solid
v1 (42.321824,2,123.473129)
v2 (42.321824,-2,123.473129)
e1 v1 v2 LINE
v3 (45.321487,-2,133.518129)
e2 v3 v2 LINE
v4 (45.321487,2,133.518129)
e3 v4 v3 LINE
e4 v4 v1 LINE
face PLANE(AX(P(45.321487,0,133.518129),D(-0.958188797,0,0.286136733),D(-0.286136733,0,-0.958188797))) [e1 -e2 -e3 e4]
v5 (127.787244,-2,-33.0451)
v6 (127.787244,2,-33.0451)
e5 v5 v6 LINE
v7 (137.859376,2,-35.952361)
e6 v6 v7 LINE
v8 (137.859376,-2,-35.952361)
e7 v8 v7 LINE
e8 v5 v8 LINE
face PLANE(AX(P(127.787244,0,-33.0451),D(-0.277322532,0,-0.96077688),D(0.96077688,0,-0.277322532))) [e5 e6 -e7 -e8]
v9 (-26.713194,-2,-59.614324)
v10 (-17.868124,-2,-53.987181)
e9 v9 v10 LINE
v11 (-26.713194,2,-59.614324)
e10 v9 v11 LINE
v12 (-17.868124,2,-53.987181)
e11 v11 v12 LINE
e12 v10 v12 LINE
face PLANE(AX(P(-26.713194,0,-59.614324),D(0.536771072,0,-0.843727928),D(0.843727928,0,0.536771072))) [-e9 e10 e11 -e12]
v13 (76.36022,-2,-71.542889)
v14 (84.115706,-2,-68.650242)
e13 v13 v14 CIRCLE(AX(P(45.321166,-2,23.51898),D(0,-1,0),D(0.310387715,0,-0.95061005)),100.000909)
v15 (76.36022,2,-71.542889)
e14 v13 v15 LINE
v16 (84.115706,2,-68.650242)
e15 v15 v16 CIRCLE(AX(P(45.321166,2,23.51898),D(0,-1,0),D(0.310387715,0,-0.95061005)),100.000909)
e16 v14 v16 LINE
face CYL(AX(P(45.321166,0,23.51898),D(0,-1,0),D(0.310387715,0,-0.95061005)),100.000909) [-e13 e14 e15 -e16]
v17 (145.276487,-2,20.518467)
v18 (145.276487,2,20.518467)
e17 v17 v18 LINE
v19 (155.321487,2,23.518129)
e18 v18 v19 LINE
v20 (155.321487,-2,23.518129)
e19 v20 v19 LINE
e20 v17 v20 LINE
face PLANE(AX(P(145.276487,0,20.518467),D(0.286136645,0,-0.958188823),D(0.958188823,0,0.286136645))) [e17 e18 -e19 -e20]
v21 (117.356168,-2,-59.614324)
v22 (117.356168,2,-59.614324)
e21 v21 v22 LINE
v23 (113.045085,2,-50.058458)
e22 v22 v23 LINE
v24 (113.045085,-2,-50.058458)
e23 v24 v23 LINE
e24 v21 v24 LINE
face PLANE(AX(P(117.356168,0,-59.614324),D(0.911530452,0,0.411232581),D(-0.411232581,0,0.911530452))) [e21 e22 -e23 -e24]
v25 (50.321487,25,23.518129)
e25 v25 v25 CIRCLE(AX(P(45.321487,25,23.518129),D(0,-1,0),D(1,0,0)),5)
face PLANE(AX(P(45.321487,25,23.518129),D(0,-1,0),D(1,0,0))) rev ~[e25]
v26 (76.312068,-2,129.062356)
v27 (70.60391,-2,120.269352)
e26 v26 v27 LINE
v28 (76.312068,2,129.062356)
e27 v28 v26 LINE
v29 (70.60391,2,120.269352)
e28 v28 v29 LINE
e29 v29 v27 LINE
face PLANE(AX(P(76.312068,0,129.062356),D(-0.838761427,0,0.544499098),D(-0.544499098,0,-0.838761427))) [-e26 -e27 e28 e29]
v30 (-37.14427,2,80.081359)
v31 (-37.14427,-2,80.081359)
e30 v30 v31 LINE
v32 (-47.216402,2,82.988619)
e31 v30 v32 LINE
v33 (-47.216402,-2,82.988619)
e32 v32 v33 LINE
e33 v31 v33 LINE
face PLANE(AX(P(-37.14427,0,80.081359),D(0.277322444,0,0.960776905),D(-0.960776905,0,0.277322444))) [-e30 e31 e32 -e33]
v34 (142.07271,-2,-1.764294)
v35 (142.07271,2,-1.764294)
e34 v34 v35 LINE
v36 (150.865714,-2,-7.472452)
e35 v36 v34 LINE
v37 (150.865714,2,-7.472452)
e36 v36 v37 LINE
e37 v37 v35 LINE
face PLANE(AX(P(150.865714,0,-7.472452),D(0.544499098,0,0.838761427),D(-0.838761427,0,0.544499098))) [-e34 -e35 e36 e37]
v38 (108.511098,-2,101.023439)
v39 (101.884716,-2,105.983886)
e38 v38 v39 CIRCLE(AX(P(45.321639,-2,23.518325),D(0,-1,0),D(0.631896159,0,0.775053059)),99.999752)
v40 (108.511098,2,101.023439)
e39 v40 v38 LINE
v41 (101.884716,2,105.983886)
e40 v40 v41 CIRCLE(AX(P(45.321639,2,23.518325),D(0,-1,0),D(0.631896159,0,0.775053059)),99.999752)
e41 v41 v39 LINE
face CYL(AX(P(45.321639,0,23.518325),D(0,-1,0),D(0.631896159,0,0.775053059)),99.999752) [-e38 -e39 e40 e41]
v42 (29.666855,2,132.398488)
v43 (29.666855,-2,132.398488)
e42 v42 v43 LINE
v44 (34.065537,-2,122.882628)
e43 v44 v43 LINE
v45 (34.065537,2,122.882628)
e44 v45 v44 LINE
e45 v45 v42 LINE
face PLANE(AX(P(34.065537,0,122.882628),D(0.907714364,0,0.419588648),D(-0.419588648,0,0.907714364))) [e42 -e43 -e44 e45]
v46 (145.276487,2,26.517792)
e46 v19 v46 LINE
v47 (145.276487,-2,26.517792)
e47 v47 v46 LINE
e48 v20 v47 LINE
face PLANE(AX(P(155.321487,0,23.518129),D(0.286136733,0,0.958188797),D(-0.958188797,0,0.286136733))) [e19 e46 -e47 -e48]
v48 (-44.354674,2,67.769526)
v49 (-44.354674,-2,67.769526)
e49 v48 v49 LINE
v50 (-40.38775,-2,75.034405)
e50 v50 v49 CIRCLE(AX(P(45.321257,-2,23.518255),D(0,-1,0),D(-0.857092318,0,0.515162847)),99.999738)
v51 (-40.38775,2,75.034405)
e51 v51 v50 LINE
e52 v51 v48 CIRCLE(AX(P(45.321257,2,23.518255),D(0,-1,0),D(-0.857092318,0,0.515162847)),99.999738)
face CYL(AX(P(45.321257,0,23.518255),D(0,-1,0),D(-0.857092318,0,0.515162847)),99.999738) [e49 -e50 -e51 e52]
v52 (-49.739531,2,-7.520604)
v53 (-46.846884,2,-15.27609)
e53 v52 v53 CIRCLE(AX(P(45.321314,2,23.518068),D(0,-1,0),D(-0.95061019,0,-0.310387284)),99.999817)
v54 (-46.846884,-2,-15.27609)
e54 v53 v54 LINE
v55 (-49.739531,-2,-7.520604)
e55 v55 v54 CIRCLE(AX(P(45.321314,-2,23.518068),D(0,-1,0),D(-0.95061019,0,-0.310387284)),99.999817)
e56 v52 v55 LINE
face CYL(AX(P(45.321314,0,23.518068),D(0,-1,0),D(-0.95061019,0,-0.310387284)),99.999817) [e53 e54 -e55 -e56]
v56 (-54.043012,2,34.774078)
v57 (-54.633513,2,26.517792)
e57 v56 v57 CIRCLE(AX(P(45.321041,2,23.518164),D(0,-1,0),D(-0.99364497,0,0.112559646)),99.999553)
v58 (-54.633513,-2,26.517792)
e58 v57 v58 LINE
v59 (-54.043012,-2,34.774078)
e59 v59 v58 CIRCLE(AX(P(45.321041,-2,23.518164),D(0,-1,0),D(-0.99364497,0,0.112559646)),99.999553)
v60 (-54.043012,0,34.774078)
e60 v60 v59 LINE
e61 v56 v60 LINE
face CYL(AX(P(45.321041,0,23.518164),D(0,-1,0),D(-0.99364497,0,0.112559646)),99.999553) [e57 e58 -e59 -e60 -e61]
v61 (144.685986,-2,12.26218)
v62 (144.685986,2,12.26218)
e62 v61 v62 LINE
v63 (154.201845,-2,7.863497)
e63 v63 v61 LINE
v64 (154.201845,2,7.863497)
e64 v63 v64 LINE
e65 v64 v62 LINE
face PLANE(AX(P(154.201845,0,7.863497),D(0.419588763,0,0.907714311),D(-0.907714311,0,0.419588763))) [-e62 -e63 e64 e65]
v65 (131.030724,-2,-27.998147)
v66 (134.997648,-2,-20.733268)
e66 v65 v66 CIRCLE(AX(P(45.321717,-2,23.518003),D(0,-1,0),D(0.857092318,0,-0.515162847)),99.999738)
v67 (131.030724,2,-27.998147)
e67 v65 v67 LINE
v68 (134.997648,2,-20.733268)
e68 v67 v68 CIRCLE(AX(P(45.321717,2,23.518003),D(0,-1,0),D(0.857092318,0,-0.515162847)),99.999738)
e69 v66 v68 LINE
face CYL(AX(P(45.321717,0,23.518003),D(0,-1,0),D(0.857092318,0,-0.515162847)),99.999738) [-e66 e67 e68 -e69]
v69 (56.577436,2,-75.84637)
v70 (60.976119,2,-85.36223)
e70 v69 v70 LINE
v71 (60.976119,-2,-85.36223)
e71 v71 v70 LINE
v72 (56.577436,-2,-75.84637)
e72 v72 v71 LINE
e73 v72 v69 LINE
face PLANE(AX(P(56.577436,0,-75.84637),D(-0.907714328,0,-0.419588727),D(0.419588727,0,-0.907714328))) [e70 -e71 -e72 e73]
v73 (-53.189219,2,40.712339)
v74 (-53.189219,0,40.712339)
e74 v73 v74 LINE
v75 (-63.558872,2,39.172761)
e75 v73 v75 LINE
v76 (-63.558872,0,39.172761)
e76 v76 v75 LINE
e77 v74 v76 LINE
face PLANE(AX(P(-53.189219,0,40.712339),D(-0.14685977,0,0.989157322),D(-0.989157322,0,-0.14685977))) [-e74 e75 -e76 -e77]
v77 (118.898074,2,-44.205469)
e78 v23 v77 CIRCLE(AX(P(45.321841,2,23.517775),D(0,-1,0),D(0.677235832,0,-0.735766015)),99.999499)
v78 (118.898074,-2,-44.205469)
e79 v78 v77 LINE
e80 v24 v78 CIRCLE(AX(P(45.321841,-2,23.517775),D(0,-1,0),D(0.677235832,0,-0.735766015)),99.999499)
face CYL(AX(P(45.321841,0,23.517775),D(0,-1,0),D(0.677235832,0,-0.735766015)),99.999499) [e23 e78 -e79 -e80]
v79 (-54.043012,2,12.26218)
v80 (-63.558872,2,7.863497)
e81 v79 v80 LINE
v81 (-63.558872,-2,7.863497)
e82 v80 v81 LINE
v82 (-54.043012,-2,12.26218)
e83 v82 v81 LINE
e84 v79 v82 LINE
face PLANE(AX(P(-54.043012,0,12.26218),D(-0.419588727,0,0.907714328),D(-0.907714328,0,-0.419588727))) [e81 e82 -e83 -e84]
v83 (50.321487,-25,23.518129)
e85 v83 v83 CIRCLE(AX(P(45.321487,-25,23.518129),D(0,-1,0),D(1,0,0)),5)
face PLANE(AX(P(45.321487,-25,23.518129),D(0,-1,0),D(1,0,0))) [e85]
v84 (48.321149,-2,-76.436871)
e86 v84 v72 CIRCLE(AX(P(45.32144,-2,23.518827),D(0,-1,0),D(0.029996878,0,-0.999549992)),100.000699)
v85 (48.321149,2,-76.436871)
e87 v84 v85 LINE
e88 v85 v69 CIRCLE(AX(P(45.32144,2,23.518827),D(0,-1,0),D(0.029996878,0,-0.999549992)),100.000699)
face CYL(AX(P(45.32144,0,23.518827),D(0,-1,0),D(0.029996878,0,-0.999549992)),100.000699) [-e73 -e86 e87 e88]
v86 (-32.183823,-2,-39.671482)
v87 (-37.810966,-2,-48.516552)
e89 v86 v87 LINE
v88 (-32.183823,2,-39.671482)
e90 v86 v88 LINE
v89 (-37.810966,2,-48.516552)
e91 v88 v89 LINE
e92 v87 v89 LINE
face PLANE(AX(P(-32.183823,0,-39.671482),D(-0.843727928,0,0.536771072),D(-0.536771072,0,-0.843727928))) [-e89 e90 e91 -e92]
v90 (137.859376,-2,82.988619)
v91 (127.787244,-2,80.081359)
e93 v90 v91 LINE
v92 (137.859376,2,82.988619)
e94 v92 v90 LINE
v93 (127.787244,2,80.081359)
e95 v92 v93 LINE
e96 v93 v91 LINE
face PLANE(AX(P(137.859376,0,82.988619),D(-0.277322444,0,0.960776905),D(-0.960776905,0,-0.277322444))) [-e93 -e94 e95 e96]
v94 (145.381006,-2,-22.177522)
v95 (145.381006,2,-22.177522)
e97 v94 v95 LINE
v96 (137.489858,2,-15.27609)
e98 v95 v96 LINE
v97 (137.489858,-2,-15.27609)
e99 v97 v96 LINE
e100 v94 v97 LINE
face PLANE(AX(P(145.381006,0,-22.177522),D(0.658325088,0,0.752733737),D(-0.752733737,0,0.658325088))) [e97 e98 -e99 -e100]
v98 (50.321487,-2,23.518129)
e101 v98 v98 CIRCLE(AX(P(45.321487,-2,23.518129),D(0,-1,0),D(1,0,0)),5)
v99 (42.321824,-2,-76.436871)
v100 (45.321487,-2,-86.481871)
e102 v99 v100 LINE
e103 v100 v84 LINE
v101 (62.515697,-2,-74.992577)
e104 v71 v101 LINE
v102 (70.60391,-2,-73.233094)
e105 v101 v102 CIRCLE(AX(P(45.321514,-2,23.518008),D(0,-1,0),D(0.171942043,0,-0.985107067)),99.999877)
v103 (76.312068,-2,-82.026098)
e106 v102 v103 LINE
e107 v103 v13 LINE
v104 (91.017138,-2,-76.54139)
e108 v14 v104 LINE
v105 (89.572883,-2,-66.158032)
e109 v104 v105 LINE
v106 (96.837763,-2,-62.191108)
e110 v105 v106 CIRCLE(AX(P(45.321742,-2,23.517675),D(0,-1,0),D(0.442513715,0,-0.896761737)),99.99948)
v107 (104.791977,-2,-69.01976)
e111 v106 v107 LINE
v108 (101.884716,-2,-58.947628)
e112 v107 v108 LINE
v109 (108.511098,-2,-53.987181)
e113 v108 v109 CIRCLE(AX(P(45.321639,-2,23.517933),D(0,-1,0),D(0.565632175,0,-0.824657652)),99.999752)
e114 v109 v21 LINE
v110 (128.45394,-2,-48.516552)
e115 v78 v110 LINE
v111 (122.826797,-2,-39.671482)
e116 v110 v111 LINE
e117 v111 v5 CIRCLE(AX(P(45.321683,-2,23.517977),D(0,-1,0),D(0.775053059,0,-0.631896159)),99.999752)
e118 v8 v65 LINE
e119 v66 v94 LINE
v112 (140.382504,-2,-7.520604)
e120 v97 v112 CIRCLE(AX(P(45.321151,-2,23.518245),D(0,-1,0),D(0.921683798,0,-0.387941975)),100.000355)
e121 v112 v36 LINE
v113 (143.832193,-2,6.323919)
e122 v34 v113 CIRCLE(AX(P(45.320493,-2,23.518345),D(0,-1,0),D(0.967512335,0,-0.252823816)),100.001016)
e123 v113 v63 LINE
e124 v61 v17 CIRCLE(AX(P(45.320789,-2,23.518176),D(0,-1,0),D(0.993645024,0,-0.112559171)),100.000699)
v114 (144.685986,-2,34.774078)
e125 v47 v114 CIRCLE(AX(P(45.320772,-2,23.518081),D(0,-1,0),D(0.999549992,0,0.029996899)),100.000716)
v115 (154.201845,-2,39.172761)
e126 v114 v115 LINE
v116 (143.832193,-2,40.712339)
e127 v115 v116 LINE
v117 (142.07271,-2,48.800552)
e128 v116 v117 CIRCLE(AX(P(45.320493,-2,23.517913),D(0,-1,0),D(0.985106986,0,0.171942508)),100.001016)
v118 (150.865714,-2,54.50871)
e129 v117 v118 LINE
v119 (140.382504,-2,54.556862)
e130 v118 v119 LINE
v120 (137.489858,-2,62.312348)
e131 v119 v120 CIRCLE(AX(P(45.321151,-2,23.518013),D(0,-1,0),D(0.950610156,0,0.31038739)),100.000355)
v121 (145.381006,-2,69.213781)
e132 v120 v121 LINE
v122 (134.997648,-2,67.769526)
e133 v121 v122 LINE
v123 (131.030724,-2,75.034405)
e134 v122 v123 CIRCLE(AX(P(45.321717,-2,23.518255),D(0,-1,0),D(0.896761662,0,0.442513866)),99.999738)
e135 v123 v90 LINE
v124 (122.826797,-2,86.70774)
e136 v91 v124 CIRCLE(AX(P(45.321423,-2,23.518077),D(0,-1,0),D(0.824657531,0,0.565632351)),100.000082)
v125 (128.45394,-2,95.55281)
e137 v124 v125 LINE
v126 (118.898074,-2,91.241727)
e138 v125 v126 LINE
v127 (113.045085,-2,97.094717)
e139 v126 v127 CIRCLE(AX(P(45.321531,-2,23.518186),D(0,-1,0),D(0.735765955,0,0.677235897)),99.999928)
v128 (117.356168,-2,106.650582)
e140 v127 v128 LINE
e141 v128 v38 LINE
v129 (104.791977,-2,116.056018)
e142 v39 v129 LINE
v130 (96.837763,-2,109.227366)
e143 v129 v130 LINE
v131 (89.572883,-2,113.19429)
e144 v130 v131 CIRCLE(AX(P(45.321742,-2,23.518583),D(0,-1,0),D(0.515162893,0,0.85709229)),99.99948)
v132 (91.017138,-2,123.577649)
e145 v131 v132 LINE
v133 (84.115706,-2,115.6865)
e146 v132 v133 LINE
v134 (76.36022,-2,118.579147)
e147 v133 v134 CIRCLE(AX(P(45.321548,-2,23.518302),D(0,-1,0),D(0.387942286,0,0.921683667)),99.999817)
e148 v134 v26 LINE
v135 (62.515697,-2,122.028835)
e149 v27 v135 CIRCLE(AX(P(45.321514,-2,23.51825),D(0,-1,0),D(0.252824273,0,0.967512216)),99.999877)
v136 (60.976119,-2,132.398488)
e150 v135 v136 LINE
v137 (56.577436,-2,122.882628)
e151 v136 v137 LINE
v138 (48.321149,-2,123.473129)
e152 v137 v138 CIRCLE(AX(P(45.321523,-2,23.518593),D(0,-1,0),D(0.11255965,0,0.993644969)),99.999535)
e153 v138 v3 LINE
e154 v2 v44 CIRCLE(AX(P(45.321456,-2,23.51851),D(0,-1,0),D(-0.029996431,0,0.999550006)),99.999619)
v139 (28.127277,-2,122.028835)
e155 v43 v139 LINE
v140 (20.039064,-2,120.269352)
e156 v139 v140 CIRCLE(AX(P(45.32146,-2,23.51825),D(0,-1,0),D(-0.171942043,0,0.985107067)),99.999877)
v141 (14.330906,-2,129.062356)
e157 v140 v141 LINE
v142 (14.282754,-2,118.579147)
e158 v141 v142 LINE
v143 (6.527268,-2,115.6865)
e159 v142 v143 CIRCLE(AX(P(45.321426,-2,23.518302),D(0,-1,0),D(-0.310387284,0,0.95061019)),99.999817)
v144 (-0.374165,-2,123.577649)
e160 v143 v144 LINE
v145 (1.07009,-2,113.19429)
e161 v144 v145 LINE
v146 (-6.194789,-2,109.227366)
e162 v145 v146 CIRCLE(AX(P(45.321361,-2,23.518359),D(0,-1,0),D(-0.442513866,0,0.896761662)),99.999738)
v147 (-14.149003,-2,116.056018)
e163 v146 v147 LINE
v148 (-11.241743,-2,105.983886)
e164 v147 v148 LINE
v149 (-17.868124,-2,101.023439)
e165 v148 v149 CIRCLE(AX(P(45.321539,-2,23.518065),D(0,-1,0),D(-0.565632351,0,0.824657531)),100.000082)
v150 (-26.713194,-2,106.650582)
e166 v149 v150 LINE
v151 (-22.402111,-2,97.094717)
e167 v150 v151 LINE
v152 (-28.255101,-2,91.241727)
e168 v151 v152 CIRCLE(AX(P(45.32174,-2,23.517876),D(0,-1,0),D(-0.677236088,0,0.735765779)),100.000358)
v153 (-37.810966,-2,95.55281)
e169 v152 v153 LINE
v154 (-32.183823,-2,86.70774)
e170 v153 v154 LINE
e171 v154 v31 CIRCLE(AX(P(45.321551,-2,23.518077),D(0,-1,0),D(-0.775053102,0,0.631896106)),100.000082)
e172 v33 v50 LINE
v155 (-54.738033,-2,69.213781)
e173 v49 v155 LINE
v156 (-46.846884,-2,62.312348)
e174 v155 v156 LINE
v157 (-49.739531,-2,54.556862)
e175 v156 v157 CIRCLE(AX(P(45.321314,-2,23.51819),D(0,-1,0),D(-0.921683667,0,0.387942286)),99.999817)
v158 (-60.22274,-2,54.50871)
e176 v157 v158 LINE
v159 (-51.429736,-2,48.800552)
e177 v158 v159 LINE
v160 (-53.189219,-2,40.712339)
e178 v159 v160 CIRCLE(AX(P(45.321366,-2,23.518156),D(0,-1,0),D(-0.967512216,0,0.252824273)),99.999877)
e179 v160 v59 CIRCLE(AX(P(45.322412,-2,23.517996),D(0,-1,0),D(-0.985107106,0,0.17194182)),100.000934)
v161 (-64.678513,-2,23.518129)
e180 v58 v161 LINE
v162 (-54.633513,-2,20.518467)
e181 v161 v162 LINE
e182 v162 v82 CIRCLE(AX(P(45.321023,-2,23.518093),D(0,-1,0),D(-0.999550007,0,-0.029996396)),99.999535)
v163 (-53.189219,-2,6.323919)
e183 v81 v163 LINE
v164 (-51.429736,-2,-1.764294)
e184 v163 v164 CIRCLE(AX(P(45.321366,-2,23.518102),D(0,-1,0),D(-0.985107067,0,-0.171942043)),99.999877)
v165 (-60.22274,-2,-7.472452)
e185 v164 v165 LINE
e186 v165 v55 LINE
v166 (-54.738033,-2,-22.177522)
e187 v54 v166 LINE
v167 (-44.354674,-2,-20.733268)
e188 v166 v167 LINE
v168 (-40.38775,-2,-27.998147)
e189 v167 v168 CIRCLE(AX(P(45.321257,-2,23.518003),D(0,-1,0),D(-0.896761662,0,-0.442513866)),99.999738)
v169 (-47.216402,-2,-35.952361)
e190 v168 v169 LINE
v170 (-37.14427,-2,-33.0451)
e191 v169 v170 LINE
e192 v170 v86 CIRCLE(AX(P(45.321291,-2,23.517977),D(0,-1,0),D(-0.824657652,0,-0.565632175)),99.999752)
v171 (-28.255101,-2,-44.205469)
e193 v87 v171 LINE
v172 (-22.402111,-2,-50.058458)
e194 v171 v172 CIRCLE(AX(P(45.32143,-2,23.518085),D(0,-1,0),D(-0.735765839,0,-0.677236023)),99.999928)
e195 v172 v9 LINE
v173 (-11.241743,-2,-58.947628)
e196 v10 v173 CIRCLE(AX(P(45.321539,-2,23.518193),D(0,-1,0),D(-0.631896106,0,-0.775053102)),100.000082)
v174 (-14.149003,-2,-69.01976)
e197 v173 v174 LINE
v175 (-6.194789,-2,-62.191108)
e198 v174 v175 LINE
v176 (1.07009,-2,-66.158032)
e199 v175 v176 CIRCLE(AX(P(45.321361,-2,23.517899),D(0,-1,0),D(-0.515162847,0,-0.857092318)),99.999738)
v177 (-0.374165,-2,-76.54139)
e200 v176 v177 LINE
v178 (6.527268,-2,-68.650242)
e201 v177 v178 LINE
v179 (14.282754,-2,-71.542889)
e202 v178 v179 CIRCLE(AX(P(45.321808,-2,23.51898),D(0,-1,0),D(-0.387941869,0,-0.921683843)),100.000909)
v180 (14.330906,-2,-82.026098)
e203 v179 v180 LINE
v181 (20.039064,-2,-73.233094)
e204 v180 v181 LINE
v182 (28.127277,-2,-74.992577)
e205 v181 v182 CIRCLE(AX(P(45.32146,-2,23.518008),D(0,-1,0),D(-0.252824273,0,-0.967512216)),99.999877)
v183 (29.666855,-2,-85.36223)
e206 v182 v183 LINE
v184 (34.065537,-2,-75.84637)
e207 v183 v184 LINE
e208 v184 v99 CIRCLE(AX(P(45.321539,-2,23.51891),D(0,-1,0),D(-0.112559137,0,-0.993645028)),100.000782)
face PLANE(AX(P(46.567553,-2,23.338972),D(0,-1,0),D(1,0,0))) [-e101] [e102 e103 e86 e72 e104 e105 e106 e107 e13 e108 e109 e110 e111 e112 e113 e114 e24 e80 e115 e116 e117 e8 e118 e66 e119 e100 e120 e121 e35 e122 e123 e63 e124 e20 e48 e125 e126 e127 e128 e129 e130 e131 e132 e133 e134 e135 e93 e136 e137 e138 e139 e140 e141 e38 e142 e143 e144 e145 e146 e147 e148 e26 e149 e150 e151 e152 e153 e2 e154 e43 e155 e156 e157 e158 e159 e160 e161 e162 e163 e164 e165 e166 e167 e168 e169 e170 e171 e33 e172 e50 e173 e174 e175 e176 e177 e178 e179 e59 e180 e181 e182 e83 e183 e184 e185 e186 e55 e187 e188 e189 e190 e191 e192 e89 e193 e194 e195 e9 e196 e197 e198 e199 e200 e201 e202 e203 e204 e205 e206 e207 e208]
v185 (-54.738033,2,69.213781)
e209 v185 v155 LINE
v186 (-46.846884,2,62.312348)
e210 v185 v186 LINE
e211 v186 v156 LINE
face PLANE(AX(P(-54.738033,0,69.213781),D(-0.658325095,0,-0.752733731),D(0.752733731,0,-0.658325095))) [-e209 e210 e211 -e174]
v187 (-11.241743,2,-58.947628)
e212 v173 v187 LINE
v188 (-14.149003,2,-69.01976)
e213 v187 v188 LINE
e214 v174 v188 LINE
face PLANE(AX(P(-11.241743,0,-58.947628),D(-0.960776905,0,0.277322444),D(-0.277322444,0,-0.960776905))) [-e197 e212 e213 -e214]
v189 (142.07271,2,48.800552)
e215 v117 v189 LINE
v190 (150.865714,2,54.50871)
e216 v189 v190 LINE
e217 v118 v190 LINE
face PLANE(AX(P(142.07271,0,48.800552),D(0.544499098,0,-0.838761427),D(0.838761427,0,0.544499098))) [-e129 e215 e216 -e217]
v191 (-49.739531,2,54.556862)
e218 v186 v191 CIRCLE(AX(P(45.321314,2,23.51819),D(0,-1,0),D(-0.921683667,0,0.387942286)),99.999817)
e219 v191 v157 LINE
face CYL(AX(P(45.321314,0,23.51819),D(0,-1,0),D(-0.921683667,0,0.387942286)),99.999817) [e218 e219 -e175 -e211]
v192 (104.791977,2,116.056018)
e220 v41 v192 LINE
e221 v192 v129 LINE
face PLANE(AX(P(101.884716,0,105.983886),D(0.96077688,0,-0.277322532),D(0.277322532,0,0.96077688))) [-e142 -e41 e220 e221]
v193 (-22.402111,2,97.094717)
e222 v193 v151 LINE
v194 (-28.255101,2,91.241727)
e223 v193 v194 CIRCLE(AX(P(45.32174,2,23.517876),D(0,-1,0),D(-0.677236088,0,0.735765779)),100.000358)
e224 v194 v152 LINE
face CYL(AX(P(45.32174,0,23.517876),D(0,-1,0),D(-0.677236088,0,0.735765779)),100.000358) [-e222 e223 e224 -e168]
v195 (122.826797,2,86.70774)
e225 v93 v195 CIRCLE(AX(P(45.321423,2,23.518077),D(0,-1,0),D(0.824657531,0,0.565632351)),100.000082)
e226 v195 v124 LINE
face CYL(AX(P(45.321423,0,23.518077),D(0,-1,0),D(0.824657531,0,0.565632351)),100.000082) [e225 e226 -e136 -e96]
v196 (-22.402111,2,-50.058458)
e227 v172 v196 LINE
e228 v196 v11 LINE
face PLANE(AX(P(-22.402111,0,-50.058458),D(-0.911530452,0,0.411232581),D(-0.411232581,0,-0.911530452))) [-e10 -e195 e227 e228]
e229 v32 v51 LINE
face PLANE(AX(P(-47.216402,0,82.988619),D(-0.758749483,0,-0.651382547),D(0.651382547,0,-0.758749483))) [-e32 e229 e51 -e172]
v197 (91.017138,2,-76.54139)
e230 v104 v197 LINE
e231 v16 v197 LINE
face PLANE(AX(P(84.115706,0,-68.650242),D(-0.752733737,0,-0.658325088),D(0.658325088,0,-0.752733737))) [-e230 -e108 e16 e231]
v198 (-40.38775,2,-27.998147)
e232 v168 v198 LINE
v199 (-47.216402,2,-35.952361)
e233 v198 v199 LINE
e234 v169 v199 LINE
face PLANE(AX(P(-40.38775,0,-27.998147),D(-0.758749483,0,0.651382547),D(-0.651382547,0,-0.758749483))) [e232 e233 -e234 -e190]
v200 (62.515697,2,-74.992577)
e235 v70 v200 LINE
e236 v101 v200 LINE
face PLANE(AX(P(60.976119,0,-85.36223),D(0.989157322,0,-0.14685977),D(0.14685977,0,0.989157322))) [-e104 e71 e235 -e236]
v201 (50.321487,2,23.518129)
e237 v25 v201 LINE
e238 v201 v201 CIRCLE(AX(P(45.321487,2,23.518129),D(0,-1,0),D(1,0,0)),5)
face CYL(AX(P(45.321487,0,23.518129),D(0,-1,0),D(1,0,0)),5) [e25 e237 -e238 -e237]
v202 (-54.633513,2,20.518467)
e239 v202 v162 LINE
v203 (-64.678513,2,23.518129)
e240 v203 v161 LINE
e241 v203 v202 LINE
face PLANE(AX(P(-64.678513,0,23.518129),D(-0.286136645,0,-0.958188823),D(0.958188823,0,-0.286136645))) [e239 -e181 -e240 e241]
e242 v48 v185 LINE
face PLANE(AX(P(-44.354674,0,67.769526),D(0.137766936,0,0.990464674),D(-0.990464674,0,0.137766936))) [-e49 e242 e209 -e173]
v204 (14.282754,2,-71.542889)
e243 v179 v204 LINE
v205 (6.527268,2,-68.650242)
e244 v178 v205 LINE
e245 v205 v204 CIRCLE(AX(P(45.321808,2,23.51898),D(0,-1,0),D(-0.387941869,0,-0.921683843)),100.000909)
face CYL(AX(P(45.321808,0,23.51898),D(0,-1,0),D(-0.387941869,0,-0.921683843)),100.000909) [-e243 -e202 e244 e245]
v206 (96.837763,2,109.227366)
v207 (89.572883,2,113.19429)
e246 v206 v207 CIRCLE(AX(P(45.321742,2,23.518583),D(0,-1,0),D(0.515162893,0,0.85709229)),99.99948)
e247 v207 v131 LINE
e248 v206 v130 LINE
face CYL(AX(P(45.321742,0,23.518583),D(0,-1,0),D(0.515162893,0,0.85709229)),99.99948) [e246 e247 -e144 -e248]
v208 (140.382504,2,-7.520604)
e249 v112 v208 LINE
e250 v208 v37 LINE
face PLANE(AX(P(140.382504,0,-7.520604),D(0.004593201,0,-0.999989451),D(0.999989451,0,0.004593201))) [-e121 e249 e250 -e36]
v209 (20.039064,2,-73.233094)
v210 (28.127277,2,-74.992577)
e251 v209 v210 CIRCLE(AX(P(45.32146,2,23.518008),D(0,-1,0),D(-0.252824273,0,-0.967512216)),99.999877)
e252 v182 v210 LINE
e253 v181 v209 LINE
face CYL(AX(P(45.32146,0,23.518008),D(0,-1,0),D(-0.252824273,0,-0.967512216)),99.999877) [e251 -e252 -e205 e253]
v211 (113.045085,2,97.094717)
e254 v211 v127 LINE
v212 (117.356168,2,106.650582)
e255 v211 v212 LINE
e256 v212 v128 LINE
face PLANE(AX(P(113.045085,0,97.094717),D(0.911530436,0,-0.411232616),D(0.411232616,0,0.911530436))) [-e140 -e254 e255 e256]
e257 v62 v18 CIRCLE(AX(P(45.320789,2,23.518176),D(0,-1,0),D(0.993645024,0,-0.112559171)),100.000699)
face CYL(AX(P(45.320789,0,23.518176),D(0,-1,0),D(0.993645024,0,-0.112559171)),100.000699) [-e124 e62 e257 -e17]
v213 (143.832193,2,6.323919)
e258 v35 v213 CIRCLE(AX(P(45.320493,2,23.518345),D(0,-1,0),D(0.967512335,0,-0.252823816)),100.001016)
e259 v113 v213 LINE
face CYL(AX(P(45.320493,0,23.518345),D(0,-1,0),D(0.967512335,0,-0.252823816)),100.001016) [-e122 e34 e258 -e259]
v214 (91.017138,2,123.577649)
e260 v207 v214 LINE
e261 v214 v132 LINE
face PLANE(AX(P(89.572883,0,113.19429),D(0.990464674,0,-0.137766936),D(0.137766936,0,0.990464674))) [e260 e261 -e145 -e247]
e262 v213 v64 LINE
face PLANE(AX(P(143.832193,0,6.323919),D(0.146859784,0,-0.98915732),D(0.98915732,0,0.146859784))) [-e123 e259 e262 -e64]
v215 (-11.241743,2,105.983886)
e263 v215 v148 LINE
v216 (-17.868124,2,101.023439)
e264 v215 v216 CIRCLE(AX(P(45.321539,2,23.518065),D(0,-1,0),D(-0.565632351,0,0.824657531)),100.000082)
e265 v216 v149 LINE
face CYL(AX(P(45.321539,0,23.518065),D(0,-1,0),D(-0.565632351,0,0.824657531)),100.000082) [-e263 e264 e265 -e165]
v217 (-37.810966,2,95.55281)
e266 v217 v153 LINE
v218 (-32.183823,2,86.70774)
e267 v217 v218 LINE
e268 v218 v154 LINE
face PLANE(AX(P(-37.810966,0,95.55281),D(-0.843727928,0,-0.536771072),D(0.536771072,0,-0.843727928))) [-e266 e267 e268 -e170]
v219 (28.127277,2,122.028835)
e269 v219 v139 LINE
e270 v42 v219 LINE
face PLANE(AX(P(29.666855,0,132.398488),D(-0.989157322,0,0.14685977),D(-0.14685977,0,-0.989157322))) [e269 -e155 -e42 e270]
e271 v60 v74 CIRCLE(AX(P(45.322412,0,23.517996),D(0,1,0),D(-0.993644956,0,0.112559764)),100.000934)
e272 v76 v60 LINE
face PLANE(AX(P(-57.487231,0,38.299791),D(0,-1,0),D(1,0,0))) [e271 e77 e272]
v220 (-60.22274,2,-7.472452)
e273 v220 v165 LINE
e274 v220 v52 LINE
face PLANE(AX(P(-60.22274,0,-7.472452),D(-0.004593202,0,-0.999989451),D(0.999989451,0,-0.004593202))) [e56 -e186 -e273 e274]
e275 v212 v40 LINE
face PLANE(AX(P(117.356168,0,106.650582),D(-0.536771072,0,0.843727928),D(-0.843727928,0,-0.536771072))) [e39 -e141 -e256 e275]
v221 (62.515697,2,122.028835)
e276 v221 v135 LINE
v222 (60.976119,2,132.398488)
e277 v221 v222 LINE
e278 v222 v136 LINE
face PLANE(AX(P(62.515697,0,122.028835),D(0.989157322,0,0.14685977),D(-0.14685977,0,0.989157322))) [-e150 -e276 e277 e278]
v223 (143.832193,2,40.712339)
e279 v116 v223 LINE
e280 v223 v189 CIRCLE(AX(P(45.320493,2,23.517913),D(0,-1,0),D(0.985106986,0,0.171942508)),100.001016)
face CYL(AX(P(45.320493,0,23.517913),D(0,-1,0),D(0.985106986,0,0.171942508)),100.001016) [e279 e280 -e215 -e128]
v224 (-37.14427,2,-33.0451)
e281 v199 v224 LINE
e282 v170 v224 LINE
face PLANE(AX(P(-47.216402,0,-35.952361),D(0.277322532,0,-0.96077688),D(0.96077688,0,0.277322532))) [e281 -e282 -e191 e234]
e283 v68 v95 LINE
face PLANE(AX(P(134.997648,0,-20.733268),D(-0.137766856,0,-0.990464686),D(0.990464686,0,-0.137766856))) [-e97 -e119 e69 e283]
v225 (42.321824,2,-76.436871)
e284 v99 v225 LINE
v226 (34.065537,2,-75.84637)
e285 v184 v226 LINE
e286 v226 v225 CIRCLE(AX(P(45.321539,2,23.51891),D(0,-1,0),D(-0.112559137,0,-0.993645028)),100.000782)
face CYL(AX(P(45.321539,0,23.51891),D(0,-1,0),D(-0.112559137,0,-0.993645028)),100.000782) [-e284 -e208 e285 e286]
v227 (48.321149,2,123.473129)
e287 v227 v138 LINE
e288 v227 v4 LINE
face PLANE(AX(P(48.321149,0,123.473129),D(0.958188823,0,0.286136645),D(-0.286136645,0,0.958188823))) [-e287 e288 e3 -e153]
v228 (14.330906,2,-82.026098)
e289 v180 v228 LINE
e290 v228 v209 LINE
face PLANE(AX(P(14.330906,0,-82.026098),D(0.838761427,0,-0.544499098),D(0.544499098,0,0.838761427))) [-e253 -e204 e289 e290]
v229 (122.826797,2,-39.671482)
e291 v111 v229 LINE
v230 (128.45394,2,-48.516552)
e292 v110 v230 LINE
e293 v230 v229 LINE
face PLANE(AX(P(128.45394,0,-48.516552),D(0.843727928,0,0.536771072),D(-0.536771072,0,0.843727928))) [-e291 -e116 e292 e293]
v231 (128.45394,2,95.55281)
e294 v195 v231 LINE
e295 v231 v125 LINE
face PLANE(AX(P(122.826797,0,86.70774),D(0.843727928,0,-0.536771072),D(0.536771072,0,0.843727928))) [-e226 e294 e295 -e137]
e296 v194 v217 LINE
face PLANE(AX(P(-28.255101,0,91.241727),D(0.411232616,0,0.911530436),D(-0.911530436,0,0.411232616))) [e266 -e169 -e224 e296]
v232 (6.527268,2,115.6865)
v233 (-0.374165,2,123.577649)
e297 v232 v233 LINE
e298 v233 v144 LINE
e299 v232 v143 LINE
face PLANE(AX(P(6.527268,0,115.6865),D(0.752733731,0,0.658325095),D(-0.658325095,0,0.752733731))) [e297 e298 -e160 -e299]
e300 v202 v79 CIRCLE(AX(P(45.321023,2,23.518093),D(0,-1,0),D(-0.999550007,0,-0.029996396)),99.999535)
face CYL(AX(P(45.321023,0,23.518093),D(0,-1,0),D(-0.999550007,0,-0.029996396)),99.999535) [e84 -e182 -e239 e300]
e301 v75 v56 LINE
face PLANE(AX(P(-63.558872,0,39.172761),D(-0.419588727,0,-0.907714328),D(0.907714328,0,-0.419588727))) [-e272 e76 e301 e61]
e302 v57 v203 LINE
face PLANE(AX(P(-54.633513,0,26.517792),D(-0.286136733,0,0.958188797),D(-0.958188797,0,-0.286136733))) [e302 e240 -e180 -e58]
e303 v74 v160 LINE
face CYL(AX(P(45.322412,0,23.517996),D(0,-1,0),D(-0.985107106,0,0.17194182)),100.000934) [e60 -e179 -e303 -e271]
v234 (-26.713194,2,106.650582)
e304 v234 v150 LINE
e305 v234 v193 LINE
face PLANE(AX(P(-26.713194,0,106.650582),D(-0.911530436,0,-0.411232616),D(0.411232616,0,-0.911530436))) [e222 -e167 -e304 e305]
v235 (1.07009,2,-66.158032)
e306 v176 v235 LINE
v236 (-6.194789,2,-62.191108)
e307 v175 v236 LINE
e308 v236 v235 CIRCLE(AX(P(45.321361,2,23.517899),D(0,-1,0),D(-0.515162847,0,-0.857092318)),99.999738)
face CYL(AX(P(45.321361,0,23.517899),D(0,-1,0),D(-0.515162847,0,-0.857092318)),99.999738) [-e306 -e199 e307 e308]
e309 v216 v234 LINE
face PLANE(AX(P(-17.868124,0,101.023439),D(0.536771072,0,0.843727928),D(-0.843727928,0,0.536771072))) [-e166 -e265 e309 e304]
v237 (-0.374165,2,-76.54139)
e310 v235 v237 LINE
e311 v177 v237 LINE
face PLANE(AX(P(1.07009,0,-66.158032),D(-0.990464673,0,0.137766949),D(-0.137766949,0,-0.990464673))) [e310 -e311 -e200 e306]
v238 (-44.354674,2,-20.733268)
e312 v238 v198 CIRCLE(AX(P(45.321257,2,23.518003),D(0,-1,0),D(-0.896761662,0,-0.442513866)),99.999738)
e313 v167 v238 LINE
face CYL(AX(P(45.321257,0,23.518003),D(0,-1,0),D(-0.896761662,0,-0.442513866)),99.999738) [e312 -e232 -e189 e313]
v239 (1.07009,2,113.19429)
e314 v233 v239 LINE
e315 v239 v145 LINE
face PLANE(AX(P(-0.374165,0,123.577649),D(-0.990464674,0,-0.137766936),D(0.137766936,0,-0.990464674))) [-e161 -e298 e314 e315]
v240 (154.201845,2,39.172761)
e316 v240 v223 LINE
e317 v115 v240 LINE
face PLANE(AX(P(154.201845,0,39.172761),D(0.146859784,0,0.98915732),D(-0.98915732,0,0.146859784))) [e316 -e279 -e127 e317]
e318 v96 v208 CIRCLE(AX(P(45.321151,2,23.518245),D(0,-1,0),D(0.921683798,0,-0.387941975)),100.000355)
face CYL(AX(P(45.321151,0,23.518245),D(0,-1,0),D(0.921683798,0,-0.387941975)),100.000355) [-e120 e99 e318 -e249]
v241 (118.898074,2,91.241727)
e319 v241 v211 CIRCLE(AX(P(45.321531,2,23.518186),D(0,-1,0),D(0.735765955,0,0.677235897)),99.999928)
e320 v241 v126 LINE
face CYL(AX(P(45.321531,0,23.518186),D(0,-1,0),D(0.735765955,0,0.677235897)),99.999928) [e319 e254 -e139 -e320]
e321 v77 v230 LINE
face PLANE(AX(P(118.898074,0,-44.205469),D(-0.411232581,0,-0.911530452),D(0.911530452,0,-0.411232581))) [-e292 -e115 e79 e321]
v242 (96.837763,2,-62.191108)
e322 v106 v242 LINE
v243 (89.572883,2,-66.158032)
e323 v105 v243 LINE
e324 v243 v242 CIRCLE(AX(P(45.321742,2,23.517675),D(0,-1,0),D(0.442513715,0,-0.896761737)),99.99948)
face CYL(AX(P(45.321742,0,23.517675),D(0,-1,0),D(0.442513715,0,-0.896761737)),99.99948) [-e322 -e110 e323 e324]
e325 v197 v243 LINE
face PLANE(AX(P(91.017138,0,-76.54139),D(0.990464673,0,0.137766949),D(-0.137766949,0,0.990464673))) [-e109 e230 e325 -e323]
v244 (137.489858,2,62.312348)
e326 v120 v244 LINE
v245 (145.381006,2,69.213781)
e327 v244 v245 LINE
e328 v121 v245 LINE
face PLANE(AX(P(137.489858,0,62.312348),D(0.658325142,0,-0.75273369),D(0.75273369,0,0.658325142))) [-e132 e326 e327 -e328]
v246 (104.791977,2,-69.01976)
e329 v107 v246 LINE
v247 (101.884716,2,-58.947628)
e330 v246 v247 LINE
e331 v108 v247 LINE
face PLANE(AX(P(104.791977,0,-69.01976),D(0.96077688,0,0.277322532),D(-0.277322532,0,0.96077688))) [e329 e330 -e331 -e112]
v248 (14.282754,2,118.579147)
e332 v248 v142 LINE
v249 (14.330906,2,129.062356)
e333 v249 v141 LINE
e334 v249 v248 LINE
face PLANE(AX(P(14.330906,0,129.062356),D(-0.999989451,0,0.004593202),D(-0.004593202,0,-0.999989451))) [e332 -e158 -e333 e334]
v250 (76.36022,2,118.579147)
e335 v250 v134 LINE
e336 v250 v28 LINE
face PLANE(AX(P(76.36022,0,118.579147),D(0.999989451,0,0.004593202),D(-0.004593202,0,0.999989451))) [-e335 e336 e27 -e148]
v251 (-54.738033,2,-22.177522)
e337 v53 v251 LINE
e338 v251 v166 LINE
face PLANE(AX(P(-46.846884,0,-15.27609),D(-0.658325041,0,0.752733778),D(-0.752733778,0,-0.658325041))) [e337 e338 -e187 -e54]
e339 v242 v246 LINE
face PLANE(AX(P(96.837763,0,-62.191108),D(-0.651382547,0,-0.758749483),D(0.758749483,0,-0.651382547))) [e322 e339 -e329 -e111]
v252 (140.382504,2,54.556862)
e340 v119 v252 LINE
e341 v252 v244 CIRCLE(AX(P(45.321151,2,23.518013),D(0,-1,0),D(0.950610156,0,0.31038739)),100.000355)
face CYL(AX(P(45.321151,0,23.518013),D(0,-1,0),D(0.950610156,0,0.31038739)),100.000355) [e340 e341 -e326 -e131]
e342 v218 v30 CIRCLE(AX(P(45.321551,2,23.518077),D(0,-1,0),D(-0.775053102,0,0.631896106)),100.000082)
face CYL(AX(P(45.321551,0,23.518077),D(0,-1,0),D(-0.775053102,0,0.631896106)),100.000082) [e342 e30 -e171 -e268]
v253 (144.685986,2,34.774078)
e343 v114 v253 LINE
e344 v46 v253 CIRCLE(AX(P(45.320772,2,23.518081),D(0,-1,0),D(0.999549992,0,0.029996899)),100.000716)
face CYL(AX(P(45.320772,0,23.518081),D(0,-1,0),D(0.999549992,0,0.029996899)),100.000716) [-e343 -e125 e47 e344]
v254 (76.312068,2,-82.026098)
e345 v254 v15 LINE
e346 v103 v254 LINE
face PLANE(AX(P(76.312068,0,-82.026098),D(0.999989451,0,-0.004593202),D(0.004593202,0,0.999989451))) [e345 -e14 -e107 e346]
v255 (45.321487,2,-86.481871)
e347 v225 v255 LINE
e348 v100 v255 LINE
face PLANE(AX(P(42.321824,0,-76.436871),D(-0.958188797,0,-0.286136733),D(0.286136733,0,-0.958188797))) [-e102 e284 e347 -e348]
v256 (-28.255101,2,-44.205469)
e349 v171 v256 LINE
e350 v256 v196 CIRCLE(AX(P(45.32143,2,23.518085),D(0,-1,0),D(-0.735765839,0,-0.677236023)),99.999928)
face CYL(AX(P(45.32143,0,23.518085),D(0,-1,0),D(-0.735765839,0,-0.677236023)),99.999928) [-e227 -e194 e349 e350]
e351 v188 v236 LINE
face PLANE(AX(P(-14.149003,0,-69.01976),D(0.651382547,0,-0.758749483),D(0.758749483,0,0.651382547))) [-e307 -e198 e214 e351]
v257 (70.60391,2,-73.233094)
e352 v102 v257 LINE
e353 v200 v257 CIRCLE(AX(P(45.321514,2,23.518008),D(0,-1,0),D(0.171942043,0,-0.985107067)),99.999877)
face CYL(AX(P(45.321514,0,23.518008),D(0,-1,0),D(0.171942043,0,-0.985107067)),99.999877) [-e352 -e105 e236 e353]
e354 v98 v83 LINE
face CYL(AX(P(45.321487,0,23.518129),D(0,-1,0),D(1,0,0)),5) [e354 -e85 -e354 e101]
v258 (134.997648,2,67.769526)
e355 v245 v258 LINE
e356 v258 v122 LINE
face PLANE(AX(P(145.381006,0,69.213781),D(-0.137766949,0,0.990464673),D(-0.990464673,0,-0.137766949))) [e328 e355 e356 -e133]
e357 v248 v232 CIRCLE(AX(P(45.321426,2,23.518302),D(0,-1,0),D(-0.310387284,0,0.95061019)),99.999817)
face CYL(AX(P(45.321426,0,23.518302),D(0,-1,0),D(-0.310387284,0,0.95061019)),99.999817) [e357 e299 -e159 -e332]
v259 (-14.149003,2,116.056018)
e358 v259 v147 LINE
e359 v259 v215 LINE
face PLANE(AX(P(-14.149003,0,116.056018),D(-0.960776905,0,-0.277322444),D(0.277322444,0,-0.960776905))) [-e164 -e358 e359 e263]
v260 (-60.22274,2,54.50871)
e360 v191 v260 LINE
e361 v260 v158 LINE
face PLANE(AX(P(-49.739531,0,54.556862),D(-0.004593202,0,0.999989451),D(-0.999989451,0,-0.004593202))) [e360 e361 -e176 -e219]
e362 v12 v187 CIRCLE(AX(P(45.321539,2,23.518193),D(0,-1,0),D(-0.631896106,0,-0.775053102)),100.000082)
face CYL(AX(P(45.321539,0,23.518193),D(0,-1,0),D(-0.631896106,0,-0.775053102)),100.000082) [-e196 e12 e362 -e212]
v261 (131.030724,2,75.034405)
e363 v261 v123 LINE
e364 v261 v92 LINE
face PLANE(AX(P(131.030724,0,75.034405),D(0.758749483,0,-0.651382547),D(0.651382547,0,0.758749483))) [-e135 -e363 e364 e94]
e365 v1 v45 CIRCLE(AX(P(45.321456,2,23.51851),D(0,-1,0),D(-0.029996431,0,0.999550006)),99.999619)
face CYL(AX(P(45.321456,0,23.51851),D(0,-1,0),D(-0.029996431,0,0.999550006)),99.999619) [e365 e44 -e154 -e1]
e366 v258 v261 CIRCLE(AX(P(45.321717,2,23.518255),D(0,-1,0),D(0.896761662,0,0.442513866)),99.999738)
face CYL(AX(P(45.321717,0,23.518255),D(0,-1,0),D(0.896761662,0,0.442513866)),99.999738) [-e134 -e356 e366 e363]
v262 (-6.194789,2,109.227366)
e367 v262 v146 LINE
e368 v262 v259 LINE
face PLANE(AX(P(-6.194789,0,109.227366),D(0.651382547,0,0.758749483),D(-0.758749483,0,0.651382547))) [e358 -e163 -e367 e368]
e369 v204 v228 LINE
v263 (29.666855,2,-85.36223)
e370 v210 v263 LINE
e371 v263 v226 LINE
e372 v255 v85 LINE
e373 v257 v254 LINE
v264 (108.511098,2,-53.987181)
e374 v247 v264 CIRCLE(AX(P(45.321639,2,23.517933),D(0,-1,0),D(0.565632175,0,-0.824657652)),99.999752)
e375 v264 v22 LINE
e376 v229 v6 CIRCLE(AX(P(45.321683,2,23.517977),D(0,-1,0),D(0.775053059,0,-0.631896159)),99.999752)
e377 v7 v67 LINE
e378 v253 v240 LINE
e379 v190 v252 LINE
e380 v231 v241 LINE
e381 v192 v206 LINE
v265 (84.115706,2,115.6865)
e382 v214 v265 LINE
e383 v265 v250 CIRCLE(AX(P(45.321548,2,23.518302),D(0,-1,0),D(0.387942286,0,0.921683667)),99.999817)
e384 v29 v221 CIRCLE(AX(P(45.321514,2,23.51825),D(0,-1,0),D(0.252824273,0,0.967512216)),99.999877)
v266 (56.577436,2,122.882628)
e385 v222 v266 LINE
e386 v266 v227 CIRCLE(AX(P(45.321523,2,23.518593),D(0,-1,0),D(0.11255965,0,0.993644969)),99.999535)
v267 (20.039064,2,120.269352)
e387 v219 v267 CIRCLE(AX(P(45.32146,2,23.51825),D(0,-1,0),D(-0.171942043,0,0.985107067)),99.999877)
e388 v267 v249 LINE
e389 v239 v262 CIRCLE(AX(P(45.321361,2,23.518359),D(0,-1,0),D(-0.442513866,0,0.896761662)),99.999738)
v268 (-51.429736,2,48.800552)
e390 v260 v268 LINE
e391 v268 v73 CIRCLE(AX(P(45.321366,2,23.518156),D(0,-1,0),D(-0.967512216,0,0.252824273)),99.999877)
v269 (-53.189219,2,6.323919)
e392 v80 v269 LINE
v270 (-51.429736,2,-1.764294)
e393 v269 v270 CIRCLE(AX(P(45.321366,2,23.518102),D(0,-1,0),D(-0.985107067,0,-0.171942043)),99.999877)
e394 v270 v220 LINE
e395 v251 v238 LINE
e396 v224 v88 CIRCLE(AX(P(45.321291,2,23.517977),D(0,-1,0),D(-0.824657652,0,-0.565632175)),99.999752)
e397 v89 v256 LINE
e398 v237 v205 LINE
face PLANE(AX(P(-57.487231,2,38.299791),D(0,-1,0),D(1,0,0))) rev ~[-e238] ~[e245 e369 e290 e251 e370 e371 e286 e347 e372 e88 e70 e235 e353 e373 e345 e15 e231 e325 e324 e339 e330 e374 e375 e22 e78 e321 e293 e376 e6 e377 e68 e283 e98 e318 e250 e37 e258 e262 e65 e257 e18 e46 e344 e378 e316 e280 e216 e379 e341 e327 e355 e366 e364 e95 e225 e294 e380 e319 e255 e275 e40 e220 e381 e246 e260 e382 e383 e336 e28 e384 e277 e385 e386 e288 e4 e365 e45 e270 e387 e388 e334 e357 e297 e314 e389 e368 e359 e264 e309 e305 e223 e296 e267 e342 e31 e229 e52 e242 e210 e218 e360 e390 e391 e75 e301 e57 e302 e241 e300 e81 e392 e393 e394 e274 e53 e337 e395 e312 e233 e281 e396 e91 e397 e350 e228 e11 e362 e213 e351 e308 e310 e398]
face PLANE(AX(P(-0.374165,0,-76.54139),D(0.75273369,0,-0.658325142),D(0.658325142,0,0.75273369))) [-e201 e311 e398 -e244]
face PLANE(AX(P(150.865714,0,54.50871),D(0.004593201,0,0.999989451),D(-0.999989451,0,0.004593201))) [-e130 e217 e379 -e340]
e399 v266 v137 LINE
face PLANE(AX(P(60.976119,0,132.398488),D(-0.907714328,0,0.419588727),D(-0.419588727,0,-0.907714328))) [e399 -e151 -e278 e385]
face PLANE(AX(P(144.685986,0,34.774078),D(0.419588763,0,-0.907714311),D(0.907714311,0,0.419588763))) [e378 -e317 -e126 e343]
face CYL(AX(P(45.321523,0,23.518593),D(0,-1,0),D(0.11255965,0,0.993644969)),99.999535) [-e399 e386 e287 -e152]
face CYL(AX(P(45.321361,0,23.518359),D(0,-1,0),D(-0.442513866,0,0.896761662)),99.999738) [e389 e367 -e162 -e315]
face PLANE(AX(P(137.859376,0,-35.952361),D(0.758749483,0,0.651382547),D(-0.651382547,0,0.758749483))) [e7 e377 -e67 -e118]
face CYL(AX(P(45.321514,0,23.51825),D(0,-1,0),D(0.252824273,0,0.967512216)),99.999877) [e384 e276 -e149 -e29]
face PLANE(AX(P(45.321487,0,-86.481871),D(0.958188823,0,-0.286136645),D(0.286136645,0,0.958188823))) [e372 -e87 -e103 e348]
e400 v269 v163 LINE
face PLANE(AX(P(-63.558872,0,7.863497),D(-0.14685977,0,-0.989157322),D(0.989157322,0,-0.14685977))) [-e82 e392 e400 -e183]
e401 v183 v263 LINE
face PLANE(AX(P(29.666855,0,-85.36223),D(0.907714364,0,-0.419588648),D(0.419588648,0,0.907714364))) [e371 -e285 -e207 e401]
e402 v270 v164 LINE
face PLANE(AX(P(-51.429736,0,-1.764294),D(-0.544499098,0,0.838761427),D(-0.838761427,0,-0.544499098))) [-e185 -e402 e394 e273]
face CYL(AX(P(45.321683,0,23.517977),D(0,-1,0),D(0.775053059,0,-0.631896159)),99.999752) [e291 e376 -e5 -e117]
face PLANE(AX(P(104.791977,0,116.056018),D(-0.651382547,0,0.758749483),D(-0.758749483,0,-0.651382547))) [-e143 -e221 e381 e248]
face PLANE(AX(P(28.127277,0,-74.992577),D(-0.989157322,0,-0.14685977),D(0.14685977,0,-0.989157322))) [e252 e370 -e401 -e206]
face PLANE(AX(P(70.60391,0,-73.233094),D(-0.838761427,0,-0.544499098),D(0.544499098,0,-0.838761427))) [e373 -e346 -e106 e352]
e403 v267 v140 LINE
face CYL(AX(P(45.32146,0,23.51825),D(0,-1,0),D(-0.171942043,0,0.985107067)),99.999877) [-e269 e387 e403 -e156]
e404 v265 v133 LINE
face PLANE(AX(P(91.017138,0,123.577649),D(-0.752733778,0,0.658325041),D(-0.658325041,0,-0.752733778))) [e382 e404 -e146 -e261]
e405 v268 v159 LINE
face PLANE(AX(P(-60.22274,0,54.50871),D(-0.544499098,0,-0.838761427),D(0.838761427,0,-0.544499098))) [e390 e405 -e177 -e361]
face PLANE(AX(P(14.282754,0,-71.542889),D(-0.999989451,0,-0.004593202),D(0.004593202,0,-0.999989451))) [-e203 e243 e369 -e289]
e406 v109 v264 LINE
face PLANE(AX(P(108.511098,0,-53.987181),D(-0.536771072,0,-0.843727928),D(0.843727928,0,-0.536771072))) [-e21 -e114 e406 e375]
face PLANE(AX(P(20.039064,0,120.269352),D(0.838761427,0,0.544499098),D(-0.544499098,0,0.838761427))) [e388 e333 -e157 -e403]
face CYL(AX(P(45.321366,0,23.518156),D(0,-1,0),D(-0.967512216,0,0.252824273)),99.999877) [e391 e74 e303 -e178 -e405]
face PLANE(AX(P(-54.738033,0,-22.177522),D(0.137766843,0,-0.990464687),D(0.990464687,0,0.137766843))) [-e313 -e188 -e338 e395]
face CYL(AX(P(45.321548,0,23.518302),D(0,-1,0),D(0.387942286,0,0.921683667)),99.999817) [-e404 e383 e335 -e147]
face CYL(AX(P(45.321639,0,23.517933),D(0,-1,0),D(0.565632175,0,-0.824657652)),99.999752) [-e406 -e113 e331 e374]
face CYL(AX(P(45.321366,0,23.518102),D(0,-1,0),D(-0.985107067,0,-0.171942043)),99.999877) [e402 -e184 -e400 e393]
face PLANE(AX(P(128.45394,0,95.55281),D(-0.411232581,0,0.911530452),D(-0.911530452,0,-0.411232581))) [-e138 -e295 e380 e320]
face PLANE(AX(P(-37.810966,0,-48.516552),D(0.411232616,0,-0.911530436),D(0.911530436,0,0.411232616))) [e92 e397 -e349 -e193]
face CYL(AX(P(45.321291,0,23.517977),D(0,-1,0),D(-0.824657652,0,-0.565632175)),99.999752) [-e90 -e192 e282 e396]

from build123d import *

# Parameters (mm, degrees)
F0_R          = 5
F1_DEPTH      = 25
F1_DEPTH_BACK = 25
F2_DEPTH      = 2
F2_DEPTH_BACK = 2
F3_DEPTH      = 2


with BuildPart() as f1:
    # F0 (on Front) → F1 (new body, two sides)
    with BuildSketch(Plane.XZ) as f1_sk:
        with Locations((45.321487, 23.518129)):
            Circle(F0_R)
    extrude(amount=F1_DEPTH)
    extrude(f1_sk.sketch, amount=-F1_DEPTH_BACK)

    # F0 (on Front) → F2 (join, two sides)
    with BuildSketch(Plane.XZ) as f2_sk:
        with BuildLine():
            Line((145.381006, 69.213781), (134.997648, 67.769526))
            ThreePointArc((134.997648, 67.769526), (133.089386, 71.443028), (131.030724, 75.034405))
            Line((131.030724, 75.034405), (137.859376, 82.988619))
            Line((137.859376, 82.988619), (127.787244, 80.081359))
            ThreePointArc((127.787244, 80.081359), (125.375611, 83.445896), (122.826797, 86.70774))
            Line((122.826797, 86.70774), (128.45394, 95.55281))
            Line((128.45394, 95.55281), (118.898074, 91.241727))
            ThreePointArc((118.898074, 91.241727), (116.032165, 94.228807), (113.045085, 97.094717))
            Line((113.045085, 97.094717), (117.356168, 106.650582))
            Line((117.356168, 106.650582), (108.511098, 101.023439))
            ThreePointArc((108.511098, 101.023439), (105.249254, 103.572253), (101.884716, 105.983886))
            Line((101.884716, 105.983886), (104.791977, 116.056018))
            Line((104.791977, 116.056018), (96.837763, 109.227366))
            ThreePointArc((96.837763, 109.227366), (93.246386, 111.286028), (89.572883, 113.19429))
            Line((89.572883, 113.19429), (91.017138, 123.577649))
            Line((91.017138, 123.577649), (84.115706, 115.6865))
            ThreePointArc((84.115706, 115.6865), (80.267905, 117.213102), (76.36022, 118.579147))
            Line((76.36022, 118.579147), (76.312068, 129.062356))
            Line((76.312068, 129.062356), (70.60391, 120.269352))
            ThreePointArc((70.60391, 120.269352), (66.578016, 121.232816), (62.515697, 122.028835))
            Line((62.515697, 122.028835), (60.976119, 132.398488))
            Line((60.976119, 132.398488), (56.577436, 122.882628))
            ThreePointArc((56.577436, 122.882628), (52.455405, 123.263341), (48.321149, 123.473129))
            Line((48.321149, 123.473129), (45.321487, 133.518129))
            Line((45.321487, 133.518129), (42.321824, 123.473129))
            ThreePointArc((42.321824, 123.473129), (38.187569, 123.263341), (34.065537, 122.882628))
            Line((34.065537, 122.882628), (29.666855, 132.398488))
            Line((29.666855, 132.398488), (28.127277, 122.028835))
            ThreePointArc((28.127277, 122.028835), (24.064958, 121.232816), (20.039064, 120.269352))
            Line((20.039064, 120.269352), (14.330906, 129.062356))
            Line((14.330906, 129.062356), (14.282754, 118.579147))
            ThreePointArc((14.282754, 118.579147), (10.375069, 117.213102), (6.527268, 115.6865))
            Line((6.527268, 115.6865), (-0.374165, 123.577649))
            Line((-0.374165, 123.577649), (1.07009, 113.19429))
            ThreePointArc((1.07009, 113.19429), (-2.603412, 111.286028), (-6.194789, 109.227366))
            Line((-6.194789, 109.227366), (-14.149003, 116.056018))
            Line((-14.149003, 116.056018), (-11.241743, 105.983886))
            ThreePointArc((-11.241743, 105.983886), (-14.60628, 103.572253), (-17.868124, 101.023439))
            Line((-17.868124, 101.023439), (-26.713194, 106.650582))
            Line((-26.713194, 106.650582), (-22.402111, 97.094717))
            ThreePointArc((-22.402111, 97.094717), (-25.389191, 94.228807), (-28.255101, 91.241727))
            Line((-28.255101, 91.241727), (-37.810966, 95.55281))
            Line((-37.810966, 95.55281), (-32.183823, 86.70774))
            ThreePointArc((-32.183823, 86.70774), (-34.732637, 83.445896), (-37.14427, 80.081359))
            Line((-37.14427, 80.081359), (-47.216402, 82.988619))
            Line((-47.216402, 82.988619), (-40.38775, 75.034405))
            ThreePointArc((-40.38775, 75.034405), (-42.446412, 71.443028), (-44.354674, 67.769526))
            Line((-44.354674, 67.769526), (-54.738033, 69.213781))
            Line((-54.738033, 69.213781), (-46.846884, 62.312348))
            ThreePointArc((-46.846884, 62.312348), (-48.373486, 58.464547), (-49.739531, 54.556862))
            Line((-49.739531, 54.556862), (-60.22274, 54.50871))
            Line((-60.22274, 54.50871), (-51.429736, 48.800552))
            ThreePointArc((-51.429736, 48.800552), (-52.3932, 44.774658), (-53.189219, 40.712339))
            ThreePointArc((-53.189219, 40.712339), (-53.660657, 37.749613), (-54.043012, 34.774078))
            ThreePointArc((-54.043012, 34.774078), (-54.423725, 30.652047), (-54.633513, 26.517792))
            Line((-54.633513, 26.517792), (-64.678513, 23.518129))
            Line((-64.678513, 23.518129), (-54.633513, 20.518467))
            ThreePointArc((-54.633513, 20.518467), (-54.423725, 16.384211), (-54.043012, 12.26218))
            Line((-54.043012, 12.26218), (-63.558872, 7.863497))
            Line((-63.558872, 7.863497), (-53.189219, 6.323919))
            ThreePointArc((-53.189219, 6.323919), (-52.3932, 2.2616), (-51.429736, -1.764294))
            Line((-51.429736, -1.764294), (-60.22274, -7.472452))
            Line((-60.22274, -7.472452), (-49.739531, -7.520604))
            ThreePointArc((-49.739531, -7.520604), (-48.373486, -11.428289), (-46.846884, -15.27609))
            Line((-46.846884, -15.27609), (-54.738033, -22.177522))
            Line((-54.738033, -22.177522), (-44.354674, -20.733268))
            ThreePointArc((-44.354674, -20.733268), (-42.446412, -24.40677), (-40.38775, -27.998147))
            Line((-40.38775, -27.998147), (-47.216402, -35.952361))
            Line((-47.216402, -35.952361), (-37.14427, -33.0451))
            ThreePointArc((-37.14427, -33.0451), (-34.732637, -36.409638), (-32.183823, -39.671482))
            Line((-32.183823, -39.671482), (-37.810966, -48.516552))
            Line((-37.810966, -48.516552), (-28.255101, -44.205469))
            ThreePointArc((-28.255101, -44.205469), (-25.389191, -47.192549), (-22.402111, -50.058458))
            Line((-22.402111, -50.058458), (-26.713194, -59.614324))
            Line((-26.713194, -59.614324), (-17.868124, -53.987181))
            ThreePointArc((-17.868124, -53.987181), (-14.60628, -56.535995), (-11.241743, -58.947628))
            Line((-11.241743, -58.947628), (-14.149003, -69.01976))
            Line((-14.149003, -69.01976), (-6.194789, -62.191108))
            ThreePointArc((-6.194789, -62.191108), (-2.603412, -64.24977), (1.07009, -66.158032))
            Line((1.07009, -66.158032), (-0.374165, -76.54139))
            Line((-0.374165, -76.54139), (6.527268, -68.650242))
            ThreePointArc((6.527268, -68.650242), (10.375069, -70.176843), (14.282754, -71.542889))
            Line((14.282754, -71.542889), (14.330906, -82.026098))
            Line((14.330906, -82.026098), (20.039064, -73.233094))
            ThreePointArc((20.039064, -73.233094), (24.064958, -74.196558), (28.127277, -74.992577))
            Line((28.127277, -74.992577), (29.666855, -85.36223))
            Line((29.666855, -85.36223), (34.065537, -75.84637))
            ThreePointArc((34.065537, -75.84637), (38.187569, -76.227082), (42.321824, -76.436871))
            Line((42.321824, -76.436871), (45.321487, -86.481871))
            Line((45.321487, -86.481871), (48.321149, -76.436871))
            ThreePointArc((48.321149, -76.436871), (52.455405, -76.227082), (56.577436, -75.84637))
            Line((56.577436, -75.84637), (60.976119, -85.36223))
            Line((60.976119, -85.36223), (62.515697, -74.992577))
            ThreePointArc((62.515697, -74.992577), (66.578016, -74.196558), (70.60391, -73.233094))
            Line((70.60391, -73.233094), (76.312068, -82.026098))
            Line((76.312068, -82.026098), (76.36022, -71.542889))
            ThreePointArc((76.36022, -71.542889), (80.267905, -70.176843), (84.115706, -68.650242))
            Line((84.115706, -68.650242), (91.017138, -76.54139))
            Line((91.017138, -76.54139), (89.572883, -66.158032))
            ThreePointArc((89.572883, -66.158032), (93.246386, -64.24977), (96.837763, -62.191108))
            Line((96.837763, -62.191108), (104.791977, -69.01976))
            Line((104.791977, -69.01976), (101.884716, -58.947628))
            ThreePointArc((101.884716, -58.947628), (105.249254, -56.535995), (108.511098, -53.987181))
            Line((108.511098, -53.987181), (117.356168, -59.614324))
            Line((117.356168, -59.614324), (113.045085, -50.058458))
            ThreePointArc((113.045085, -50.058458), (116.032165, -47.192549), (118.898074, -44.205469))
            Line((118.898074, -44.205469), (128.45394, -48.516552))
            Line((128.45394, -48.516552), (122.826797, -39.671482))
            ThreePointArc((122.826797, -39.671482), (125.375611, -36.409638), (127.787244, -33.0451))
            Line((127.787244, -33.0451), (137.859376, -35.952361))
            Line((137.859376, -35.952361), (131.030724, -27.998147))
            ThreePointArc((131.030724, -27.998147), (133.089386, -24.40677), (134.997648, -20.733268))
            Line((134.997648, -20.733268), (145.381006, -22.177522))
            Line((145.381006, -22.177522), (137.489858, -15.27609))
            ThreePointArc((137.489858, -15.27609), (139.016459, -11.428289), (140.382504, -7.520604))
            Line((140.382504, -7.520604), (150.865714, -7.472452))
            Line((150.865714, -7.472452), (142.07271, -1.764294))
            ThreePointArc((142.07271, -1.764294), (143.036173, 2.2616), (143.832193, 6.323919))
            Line((143.832193, 6.323919), (154.201845, 7.863497))
            Line((154.201845, 7.863497), (144.685986, 12.26218))
            ThreePointArc((144.685986, 12.26218), (145.066698, 16.384211), (145.276487, 20.518467))
            Line((145.276487, 20.518467), (155.321487, 23.518129))
            Line((155.321487, 23.518129), (145.276487, 26.517792))
            ThreePointArc((145.276487, 26.517792), (145.066698, 30.652047), (144.685986, 34.774078))
            Line((144.685986, 34.774078), (154.201845, 39.172761))
            Line((154.201845, 39.172761), (143.832193, 40.712339))
            ThreePointArc((143.832193, 40.712339), (143.036173, 44.774658), (142.07271, 48.800552))
            Line((142.07271, 48.800552), (150.865714, 54.50871))
            Line((150.865714, 54.50871), (140.382504, 54.556862))
            ThreePointArc((140.382504, 54.556862), (139.016459, 58.464547), (137.489858, 62.312348))
            Line((137.489858, 62.312348), (145.381006, 69.213781))
        make_face()
        with Locations((45.321487, 23.518129)):
            Circle(F0_R, mode=Mode.SUBTRACT)
    extrude(amount=F2_DEPTH)
    extrude(f2_sk.sketch, amount=-F2_DEPTH_BACK)

    # F0 (on Front) → F3 (join, through all)
    with BuildSketch(Plane.XZ):
        with BuildLine():
            Line((-53.189219, 40.712339), (-63.558872, 39.172761))
            Line((-63.558872, 39.172761), (-54.043012, 34.774078))
            ThreePointArc((-54.043012, 34.774078), (-53.660657, 37.749613), (-53.189219, 40.712339))
        make_face()
    extrude(amount=-F3_DEPTH)


solid = f1.part
